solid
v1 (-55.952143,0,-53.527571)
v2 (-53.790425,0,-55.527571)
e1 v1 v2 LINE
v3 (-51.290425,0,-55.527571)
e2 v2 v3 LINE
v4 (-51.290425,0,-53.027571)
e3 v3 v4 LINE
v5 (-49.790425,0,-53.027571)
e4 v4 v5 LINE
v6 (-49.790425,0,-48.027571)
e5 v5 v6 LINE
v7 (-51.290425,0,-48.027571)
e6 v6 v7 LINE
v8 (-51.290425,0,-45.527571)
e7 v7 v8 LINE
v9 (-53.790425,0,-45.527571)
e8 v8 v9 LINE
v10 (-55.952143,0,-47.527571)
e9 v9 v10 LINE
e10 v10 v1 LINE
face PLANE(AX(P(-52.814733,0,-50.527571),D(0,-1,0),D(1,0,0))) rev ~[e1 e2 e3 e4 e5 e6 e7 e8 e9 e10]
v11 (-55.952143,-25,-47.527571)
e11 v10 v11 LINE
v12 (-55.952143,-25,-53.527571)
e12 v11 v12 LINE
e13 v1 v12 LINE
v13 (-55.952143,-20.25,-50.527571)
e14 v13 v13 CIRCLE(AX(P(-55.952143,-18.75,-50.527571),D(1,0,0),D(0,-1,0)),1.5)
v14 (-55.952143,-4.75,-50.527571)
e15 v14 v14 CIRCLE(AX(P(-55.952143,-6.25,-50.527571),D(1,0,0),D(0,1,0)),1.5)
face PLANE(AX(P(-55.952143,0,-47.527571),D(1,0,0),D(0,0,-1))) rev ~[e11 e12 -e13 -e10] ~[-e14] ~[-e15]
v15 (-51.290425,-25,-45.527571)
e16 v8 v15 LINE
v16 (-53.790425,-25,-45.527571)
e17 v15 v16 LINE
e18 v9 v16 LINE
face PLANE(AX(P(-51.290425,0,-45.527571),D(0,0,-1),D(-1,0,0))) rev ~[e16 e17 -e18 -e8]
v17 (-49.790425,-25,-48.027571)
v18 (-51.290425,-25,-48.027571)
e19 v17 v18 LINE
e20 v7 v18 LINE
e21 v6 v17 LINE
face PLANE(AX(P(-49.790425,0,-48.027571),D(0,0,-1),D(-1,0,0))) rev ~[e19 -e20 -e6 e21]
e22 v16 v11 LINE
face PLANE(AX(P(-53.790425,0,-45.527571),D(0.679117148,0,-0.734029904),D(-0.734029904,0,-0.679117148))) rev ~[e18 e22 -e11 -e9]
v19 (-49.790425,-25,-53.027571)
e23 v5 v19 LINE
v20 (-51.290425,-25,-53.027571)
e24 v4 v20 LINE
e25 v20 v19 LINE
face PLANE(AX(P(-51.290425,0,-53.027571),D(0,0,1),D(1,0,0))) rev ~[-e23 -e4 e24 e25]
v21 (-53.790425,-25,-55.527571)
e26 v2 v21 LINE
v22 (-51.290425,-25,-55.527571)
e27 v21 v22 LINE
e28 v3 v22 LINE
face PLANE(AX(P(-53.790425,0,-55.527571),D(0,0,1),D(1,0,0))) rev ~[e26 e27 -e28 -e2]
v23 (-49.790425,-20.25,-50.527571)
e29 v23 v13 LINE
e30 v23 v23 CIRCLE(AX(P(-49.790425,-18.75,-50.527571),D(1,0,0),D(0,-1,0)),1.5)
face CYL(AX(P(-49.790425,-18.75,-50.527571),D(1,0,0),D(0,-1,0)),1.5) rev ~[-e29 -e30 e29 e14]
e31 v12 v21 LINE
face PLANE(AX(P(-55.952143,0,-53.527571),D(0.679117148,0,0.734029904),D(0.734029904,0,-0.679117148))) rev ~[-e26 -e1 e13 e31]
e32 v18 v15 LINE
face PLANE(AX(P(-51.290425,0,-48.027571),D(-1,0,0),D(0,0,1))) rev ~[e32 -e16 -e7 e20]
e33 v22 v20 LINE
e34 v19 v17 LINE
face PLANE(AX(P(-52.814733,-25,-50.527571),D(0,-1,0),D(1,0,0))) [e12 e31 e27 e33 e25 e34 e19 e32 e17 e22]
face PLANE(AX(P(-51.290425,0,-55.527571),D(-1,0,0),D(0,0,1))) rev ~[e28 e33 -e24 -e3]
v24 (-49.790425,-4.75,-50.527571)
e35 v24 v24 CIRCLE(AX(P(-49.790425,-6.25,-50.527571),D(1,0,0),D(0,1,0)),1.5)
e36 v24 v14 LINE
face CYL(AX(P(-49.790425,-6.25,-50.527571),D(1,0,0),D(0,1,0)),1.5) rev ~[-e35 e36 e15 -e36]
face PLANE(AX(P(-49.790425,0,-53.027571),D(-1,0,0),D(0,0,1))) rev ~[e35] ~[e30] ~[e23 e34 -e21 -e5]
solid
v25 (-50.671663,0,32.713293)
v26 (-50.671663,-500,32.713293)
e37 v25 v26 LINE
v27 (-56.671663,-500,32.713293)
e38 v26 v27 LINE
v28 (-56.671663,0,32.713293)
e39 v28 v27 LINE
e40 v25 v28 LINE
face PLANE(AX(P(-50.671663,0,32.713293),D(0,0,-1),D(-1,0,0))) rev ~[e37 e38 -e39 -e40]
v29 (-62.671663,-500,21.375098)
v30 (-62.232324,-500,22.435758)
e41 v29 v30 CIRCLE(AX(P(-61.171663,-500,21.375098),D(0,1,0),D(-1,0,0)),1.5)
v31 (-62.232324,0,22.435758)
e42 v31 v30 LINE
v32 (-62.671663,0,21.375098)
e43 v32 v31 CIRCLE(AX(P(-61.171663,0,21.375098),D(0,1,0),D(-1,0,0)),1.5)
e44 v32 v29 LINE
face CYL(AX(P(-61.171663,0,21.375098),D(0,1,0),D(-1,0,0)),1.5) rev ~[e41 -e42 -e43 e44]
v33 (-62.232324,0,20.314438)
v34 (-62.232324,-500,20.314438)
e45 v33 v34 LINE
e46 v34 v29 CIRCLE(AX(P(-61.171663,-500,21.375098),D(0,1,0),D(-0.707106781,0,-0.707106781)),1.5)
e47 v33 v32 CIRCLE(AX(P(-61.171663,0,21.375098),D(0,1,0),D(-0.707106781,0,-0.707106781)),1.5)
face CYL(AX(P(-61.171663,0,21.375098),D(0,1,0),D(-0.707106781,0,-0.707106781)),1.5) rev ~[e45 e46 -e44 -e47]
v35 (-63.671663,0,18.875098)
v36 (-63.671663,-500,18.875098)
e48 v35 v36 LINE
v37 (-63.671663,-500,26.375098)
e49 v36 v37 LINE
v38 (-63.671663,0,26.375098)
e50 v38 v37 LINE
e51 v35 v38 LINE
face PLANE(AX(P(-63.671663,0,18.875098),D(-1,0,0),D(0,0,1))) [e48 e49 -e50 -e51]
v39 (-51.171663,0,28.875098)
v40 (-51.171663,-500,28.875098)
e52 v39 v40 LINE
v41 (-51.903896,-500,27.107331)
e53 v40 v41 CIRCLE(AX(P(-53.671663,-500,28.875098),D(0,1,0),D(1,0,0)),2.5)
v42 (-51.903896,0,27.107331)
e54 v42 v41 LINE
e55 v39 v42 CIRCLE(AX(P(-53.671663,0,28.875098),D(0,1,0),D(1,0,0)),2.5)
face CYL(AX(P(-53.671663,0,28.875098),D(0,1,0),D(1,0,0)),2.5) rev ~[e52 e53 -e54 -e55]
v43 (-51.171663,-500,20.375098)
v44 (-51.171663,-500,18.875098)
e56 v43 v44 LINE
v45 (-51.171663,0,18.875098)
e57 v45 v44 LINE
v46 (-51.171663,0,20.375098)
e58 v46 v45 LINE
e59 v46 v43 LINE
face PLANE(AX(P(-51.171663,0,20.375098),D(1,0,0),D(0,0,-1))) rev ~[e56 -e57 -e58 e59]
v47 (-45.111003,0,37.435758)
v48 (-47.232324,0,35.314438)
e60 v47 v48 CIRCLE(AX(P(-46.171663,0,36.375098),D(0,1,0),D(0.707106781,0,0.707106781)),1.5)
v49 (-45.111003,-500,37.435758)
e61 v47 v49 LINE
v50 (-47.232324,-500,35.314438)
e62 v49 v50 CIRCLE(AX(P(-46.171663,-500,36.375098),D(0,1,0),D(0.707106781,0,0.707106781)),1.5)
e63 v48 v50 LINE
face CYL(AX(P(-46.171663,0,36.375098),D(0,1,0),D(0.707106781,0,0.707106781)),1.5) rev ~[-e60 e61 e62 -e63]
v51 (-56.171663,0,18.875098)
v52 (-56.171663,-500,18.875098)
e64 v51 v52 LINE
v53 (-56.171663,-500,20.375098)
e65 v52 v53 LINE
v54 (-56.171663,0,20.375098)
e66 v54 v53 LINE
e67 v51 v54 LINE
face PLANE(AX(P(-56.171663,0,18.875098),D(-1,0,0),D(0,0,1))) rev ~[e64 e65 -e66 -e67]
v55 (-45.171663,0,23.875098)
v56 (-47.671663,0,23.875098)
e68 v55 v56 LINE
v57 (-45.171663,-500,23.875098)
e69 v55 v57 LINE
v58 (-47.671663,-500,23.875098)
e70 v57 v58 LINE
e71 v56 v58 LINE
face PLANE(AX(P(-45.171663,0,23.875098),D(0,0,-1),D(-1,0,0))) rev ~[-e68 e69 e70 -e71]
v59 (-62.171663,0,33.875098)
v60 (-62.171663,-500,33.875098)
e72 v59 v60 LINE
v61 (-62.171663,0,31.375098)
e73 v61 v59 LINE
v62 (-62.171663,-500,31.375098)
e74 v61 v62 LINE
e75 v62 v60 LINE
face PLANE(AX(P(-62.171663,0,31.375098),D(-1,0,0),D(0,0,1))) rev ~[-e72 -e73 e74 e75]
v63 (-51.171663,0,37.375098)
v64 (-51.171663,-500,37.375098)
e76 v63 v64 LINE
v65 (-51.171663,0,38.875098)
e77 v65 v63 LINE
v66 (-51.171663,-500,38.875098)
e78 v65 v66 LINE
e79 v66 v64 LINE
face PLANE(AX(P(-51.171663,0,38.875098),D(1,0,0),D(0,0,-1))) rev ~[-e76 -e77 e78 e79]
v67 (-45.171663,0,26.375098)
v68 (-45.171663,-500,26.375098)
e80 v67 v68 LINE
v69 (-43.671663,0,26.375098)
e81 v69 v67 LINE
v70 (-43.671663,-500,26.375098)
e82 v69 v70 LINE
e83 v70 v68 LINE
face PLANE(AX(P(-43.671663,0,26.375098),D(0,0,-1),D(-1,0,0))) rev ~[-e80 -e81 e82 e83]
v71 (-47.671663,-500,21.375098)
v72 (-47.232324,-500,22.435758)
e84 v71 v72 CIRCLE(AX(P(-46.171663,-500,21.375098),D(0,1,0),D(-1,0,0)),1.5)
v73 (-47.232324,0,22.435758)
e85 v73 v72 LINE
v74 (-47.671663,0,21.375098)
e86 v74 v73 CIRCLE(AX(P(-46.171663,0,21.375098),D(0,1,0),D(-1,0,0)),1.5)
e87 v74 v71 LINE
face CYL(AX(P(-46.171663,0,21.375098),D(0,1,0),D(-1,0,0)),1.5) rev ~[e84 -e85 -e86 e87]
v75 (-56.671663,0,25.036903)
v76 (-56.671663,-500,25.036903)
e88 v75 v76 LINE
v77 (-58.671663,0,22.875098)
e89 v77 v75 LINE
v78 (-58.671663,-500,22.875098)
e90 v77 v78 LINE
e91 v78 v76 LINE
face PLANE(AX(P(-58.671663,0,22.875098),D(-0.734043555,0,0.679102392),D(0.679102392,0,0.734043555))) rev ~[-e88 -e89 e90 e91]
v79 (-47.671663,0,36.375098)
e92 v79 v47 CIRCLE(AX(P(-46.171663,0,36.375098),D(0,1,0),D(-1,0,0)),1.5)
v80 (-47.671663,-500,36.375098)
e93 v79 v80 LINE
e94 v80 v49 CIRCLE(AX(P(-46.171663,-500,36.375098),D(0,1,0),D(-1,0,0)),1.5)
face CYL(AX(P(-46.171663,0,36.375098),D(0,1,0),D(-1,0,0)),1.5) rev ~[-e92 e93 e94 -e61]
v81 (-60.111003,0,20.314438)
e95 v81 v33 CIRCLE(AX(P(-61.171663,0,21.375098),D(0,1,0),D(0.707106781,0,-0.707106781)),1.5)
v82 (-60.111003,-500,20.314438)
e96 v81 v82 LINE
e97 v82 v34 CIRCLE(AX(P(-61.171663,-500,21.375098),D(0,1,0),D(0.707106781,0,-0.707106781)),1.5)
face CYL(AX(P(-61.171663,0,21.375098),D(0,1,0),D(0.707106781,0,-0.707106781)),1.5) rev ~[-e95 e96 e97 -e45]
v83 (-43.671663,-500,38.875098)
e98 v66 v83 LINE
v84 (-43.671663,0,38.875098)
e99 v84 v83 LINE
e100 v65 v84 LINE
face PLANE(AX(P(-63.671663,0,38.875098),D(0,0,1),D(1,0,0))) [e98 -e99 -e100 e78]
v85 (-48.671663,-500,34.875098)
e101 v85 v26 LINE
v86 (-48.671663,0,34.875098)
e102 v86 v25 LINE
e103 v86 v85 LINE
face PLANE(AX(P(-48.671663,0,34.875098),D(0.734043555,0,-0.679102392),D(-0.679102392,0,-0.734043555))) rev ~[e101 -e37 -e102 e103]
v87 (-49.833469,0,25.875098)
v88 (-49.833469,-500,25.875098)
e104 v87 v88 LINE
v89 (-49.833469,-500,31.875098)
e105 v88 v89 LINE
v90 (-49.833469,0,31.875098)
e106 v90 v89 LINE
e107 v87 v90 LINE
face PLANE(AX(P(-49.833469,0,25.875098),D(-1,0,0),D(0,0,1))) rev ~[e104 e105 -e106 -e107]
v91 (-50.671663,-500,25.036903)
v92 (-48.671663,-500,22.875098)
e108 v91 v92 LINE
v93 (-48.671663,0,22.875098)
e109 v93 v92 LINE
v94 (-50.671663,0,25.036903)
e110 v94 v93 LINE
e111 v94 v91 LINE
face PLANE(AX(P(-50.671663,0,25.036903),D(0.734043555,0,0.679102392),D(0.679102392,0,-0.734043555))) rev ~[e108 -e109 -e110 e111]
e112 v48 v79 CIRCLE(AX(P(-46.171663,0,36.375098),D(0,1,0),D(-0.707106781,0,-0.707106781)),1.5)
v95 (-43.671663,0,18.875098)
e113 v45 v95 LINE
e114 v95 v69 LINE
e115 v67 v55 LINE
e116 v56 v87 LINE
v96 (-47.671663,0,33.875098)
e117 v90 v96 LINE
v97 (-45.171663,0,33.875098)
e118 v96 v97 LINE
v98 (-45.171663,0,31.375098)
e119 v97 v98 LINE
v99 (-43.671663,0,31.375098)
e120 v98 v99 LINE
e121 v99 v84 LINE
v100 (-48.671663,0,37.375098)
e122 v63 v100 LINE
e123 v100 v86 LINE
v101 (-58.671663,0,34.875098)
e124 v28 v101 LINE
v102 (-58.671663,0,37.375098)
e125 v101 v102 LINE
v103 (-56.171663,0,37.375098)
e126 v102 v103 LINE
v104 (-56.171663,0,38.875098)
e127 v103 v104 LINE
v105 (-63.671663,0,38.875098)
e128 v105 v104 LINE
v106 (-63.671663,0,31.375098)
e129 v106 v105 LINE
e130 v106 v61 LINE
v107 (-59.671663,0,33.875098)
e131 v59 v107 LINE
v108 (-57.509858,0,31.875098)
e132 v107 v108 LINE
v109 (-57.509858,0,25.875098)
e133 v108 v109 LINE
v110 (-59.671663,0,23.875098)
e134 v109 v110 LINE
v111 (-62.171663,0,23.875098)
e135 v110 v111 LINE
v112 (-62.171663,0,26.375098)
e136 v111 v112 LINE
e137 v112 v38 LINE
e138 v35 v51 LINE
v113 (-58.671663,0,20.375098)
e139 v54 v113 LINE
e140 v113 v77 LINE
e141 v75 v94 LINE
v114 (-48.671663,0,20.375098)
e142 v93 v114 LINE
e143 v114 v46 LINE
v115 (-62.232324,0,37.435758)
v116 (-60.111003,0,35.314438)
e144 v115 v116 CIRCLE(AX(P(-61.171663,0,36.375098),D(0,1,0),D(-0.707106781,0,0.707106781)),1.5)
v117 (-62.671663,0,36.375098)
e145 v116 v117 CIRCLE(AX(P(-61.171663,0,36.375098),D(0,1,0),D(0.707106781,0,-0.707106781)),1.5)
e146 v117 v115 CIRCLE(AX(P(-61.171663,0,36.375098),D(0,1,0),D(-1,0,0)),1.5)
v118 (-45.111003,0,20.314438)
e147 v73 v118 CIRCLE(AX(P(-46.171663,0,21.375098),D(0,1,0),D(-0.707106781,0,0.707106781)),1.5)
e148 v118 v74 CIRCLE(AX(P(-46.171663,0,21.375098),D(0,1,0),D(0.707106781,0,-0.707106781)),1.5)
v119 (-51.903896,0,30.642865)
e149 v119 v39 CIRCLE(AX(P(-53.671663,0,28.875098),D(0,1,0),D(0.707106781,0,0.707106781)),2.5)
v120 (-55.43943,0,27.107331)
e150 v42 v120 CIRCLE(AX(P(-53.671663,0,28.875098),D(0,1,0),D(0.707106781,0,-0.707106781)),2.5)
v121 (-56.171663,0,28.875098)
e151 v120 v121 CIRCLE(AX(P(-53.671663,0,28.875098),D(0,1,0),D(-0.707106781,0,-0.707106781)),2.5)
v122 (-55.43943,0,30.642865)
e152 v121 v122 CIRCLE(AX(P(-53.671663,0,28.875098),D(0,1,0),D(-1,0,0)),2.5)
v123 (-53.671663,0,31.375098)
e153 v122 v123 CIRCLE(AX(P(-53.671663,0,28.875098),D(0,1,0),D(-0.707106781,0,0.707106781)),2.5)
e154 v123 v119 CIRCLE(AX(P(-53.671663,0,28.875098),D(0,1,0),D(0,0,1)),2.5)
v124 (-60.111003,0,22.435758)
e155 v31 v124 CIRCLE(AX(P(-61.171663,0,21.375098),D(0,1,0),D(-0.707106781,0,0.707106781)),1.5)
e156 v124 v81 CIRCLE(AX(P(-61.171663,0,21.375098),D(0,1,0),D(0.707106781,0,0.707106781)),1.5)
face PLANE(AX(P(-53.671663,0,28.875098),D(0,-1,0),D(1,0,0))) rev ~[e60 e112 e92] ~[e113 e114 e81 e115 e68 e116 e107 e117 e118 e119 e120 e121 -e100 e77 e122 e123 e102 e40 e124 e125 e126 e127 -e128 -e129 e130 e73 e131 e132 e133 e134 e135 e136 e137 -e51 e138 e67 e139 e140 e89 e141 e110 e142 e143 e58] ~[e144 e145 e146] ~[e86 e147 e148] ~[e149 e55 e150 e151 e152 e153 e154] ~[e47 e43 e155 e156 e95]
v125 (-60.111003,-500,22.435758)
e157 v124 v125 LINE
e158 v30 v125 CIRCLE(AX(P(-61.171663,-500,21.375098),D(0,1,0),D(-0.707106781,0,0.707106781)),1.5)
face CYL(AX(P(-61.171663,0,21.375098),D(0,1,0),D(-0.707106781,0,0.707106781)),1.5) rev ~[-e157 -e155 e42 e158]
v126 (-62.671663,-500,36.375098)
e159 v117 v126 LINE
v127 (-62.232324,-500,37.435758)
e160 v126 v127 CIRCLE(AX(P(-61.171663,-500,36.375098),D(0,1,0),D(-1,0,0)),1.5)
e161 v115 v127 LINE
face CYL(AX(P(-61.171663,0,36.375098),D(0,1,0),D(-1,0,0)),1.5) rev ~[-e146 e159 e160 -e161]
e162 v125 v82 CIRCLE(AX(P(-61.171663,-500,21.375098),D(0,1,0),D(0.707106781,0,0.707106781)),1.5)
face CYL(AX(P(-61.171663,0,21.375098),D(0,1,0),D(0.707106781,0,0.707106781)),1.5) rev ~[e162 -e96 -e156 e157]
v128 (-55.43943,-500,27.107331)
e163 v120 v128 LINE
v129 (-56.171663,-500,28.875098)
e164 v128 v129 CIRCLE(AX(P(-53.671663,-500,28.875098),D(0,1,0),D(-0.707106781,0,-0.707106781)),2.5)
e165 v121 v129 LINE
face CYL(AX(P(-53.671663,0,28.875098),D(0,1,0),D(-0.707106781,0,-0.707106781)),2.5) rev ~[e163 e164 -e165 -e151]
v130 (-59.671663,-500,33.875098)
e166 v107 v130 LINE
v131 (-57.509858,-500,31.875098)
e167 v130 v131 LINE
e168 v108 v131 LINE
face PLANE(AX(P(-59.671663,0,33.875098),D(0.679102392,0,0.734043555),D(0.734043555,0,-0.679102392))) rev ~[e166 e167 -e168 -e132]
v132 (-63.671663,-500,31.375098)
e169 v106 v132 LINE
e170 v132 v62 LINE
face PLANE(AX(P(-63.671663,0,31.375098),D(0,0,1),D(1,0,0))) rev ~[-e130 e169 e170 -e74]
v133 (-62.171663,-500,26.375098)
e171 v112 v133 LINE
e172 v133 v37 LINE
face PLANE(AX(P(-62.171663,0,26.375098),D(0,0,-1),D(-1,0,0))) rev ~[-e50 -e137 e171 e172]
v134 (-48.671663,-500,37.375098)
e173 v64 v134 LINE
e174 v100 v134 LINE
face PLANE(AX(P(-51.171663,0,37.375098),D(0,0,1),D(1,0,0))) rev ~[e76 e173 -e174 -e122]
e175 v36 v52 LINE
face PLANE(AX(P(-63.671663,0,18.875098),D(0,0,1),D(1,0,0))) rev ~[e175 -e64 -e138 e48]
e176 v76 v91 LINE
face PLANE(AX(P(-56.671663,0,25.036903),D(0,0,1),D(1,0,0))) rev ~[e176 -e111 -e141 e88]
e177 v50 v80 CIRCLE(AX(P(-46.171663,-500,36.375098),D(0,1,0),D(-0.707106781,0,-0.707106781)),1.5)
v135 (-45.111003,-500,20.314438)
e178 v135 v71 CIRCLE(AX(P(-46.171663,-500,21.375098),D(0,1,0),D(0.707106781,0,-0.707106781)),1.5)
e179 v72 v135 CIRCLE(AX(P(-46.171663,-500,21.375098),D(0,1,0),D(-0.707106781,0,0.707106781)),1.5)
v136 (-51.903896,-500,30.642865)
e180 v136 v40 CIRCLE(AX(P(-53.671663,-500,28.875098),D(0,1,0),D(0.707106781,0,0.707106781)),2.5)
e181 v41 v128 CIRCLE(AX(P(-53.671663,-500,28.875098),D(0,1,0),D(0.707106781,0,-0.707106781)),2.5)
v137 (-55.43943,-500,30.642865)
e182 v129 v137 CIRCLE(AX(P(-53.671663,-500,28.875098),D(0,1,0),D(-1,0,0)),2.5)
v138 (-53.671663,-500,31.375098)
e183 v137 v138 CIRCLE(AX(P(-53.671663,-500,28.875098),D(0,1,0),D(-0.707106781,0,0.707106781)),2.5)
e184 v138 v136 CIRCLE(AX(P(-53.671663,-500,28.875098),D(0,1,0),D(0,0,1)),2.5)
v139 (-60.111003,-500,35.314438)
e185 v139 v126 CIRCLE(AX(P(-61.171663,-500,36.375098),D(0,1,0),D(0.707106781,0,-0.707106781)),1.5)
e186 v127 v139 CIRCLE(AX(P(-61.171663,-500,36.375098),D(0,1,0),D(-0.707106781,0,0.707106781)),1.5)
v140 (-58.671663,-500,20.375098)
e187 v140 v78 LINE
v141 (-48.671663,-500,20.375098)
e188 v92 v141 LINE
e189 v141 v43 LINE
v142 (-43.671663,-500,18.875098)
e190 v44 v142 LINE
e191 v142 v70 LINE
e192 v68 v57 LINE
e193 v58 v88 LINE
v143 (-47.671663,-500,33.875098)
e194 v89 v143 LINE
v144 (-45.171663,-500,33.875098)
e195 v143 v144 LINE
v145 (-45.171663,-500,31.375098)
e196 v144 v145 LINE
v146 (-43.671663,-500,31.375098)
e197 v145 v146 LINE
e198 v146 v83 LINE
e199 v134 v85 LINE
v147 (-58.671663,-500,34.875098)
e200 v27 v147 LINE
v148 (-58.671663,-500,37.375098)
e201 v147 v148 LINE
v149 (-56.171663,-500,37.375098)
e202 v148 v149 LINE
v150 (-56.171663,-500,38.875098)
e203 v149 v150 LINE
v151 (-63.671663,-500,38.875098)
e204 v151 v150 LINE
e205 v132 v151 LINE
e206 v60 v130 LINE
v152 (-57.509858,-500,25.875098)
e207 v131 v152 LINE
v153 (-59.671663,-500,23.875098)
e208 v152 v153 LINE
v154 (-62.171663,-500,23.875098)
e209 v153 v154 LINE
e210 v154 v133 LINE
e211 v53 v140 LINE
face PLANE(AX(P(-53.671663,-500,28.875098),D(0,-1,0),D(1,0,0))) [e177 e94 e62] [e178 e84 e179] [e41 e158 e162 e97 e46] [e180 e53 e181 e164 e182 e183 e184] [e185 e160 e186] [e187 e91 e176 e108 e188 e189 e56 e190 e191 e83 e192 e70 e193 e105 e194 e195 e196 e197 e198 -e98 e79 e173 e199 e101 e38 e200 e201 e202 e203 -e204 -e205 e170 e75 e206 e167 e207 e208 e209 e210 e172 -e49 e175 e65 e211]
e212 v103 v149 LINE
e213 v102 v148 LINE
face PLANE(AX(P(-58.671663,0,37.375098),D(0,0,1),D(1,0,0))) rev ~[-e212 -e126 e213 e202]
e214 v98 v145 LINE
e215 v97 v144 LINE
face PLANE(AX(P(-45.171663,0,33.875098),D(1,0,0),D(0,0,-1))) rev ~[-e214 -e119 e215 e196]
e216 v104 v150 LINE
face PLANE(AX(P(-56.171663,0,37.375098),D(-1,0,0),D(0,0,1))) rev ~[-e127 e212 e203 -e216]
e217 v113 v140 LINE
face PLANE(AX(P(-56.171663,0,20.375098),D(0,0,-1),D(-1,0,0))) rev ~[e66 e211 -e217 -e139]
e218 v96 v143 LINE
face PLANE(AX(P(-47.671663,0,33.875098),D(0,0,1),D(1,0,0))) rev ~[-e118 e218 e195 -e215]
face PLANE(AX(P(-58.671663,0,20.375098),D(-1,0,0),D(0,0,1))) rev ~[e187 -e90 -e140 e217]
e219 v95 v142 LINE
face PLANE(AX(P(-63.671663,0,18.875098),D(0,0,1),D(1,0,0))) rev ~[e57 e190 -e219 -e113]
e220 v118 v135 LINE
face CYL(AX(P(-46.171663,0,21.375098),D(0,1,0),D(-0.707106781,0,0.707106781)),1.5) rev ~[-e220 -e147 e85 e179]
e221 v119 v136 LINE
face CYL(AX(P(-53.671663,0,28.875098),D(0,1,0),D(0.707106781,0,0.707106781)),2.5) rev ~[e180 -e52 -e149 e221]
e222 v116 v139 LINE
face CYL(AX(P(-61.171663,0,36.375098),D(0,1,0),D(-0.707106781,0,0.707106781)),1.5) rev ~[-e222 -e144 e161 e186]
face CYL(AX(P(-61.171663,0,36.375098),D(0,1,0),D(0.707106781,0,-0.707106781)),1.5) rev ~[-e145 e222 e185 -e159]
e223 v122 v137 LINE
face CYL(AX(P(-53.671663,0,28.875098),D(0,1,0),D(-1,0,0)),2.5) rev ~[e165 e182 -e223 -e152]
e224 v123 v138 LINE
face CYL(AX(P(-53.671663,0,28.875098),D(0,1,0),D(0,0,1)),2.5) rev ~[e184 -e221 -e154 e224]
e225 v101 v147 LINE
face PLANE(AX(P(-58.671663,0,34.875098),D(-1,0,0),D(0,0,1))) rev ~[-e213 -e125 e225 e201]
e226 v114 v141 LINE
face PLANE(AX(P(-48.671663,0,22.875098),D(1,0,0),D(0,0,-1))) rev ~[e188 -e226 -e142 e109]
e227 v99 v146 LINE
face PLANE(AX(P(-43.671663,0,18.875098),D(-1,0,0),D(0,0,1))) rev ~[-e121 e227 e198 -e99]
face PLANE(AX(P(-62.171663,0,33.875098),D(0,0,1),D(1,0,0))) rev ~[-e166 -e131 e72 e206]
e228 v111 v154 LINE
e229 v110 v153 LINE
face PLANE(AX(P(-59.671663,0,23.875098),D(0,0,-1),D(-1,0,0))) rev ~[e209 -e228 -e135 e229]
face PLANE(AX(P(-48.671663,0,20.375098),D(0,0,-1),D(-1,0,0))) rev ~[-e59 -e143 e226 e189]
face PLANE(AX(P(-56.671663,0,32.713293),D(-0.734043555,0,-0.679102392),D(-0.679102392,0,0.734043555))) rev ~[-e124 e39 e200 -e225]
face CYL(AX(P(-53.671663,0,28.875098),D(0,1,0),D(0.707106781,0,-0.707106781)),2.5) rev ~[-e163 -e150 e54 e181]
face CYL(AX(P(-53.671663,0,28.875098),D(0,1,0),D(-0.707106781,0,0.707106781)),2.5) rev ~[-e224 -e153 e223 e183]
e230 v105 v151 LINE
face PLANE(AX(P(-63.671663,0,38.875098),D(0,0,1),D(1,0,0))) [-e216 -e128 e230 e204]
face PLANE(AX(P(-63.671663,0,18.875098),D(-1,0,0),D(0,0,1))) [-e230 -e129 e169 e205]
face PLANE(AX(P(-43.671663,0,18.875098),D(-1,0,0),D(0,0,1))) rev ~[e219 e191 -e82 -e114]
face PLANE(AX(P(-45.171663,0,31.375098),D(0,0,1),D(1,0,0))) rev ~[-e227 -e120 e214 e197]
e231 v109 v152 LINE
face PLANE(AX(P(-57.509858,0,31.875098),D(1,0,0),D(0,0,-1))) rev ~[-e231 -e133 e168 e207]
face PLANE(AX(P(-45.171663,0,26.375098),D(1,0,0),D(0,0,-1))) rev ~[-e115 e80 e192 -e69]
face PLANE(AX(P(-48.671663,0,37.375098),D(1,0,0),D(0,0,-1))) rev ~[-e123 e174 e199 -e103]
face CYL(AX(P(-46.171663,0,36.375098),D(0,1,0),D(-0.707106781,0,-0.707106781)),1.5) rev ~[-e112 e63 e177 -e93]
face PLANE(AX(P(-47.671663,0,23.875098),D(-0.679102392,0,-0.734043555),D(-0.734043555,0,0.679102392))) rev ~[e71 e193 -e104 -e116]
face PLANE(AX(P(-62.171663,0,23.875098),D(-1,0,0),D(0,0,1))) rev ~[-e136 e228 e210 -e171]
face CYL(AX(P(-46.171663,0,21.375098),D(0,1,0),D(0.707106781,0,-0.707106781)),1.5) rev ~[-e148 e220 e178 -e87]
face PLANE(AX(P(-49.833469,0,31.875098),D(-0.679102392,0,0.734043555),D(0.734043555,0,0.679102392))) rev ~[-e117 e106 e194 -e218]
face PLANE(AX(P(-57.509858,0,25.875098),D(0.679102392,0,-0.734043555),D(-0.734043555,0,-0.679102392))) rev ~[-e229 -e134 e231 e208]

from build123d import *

# Parameters (mm, degrees)
F0_W     = 20
F0_H     = 20
F1_DEPTH = 500
F3_DEPTH = 500
F5_DEPTH = 25
F7_DEPTH = 25


with BuildPart() as f1:
    # F0 (on Front) → F1 (new body)
    with BuildSketch(Plane.XZ):
        with Locations((-53.6716634035, 28.8750978559)):
            Rectangle(F0_W, F0_H)
    extrude(amount=F1_DEPTH)

    # F2 (on face) → F3 (cut)
    with BuildSketch(Plane(origin=(0, 0, 0), x_dir=(-1, 0, 0), z_dir=(0, 1, 0))):
        Polygon((49.8334686458, 25.8750978559), (49.8334686458, 28.8750978559), (49.8334686458, 31.8750978559), (47.6716634035, 33.8750978559), (45.1716634035, 33.8750978559), (45.1716634035, 31.3750978559), (43.6716634035, 31.3750978559), (43.6716634035, 26.3750978559), (45.1716634035, 26.3750978559), (45.1716634035, 23.8750978559), (47.6716634035, 23.8750978559), align=None)
        Polygon((56.1716634035, 20.3750978559), (58.6716634035, 20.3750978559), (58.6716634035, 22.8750978559), (56.6716634035, 25.0369030982), (53.6716634035, 25.0369030982), (50.6716634035, 25.0369030982), (48.6716634035, 22.8750978559), (48.6716634035, 20.3750978559), (51.1716634035, 20.3750978559), (51.1716634035, 18.8750978559), (56.1716634035, 18.8750978559), align=None)
        Polygon((57.5098581612, 31.8750978559), (57.5098581612, 28.8750978559), (57.5098581612, 25.8750978559), (59.6716634035, 23.8750978559), (62.1716634035, 23.8750978559), (62.1716634035, 26.3750978559), (63.6716634035, 26.3750978559), (63.6716634035, 28.8750978559), (63.6716634035, 31.3750978559), (62.1716634035, 31.3750978559), (62.1716634035, 33.8750978559), (59.6716634035, 33.8750978559), align=None)
        Polygon((50.6716634035, 32.7132926136), (53.6716634035, 32.7132926136), (56.6716634035, 32.7132926136), (58.6716634035, 34.8750978559), (58.6716634035, 37.3750978559), (56.1716634035, 37.3750978559), (56.1716634035, 38.8750978559), (51.1716634035, 38.8750978559), (51.1716634035, 37.3750978559), (48.6716634035, 37.3750978559), (48.6716634035, 34.8750978559), align=None)
        with BuildLine():
            ThreePointArc((62.2323235753, 37.4357580277), (60.1110032317, 37.4357580277), (60.1110032317, 35.3144376841))
            Line((60.1110032317, 35.3144376841), (62.2323235753, 37.4357580277))
        make_face()
        with BuildLine():
            Line((62.2323235753, 37.4357580277), (60.1110032317, 35.3144376841))
            ThreePointArc((60.1110032317, 35.3144376841), (61.7456885521, 34.9892785572), (62.6716634035, 36.3750978559))
            ThreePointArc((62.6716634035, 36.3750978559), (62.5574827023, 36.9491230045), (62.2323235753, 37.4357580277))
        make_face()
        with BuildLine():
            Line((51.1716634035, 28.8750978559), (53.6716634035, 28.8750978559))
            Line((53.6716634035, 28.8750978559), (51.9038964505, 30.6428648089))
            ThreePointArc((51.9038964505, 30.6428648089), (51.3619645722, 29.8318064368), (51.1716634035, 28.8750978559))
        make_face()
        with BuildLine():
            Line((51.9038964505, 27.107330903), (53.6716634035, 28.8750978559))
            Line((53.6716634035, 28.8750978559), (51.1716634035, 28.8750978559))
            ThreePointArc((51.1716634035, 28.8750978559), (51.3619645722, 27.918389275), (51.9038964505, 27.107330903))
        make_face()
        with BuildLine():
            Line((55.4394303565, 27.107330903), (53.6716634035, 28.8750978559))
            Line((53.6716634035, 28.8750978559), (51.9038964505, 27.107330903))
            ThreePointArc((51.9038964505, 27.107330903), (53.6716634035, 26.3750978559), (55.4394303565, 27.107330903))
        make_face()
        with BuildLine():
            Line((56.1716634035, 28.8750978559), (53.6716634035, 28.8750978559))
            Line((53.6716634035, 28.8750978559), (55.4394303565, 27.107330903))
            ThreePointArc((55.4394303565, 27.107330903), (55.9813622348, 27.918389275), (56.1716634035, 28.8750978559))
        make_face()
        with BuildLine():
            Line((55.4394303565, 30.6428648089), (53.6716634035, 28.8750978559))
            Line((53.6716634035, 28.8750978559), (56.1716634035, 28.8750978559))
            ThreePointArc((56.1716634035, 28.8750978559), (55.9813622348, 29.8318064368), (55.4394303565, 30.6428648089))
        make_face()
        with BuildLine():
            ThreePointArc((55.4394303565, 30.6428648089), (54.6283719844, 31.1847966872), (53.6716634035, 31.3750978559))
            Line((53.6716634035, 31.3750978559), (53.6716634035, 28.8750978559))
            Line((53.6716634035, 28.8750978559), (55.4394303565, 30.6428648089))
        make_face()
        with BuildLine():
            Line((53.6716634035, 28.8750978559), (53.6716634035, 31.3750978559))
            ThreePointArc((53.6716634035, 31.3750978559), (52.7149548226, 31.1847966872), (51.9038964505, 30.6428648089))
            Line((51.9038964505, 30.6428648089), (53.6716634035, 28.8750978559))
        make_face()
        with BuildLine():
            Line((45.1110032317, 20.3144376841), (47.2323235753, 22.4357580277))
            ThreePointArc((47.2323235753, 22.4357580277), (45.1110032317, 22.4357580277), (45.1110032317, 20.3144376841))
        make_face()
        with BuildLine():
            ThreePointArc((47.6716634035, 21.3750978559), (47.5574827023, 21.9491230045), (47.2323235753, 22.4357580277))
            Line((47.2323235753, 22.4357580277), (45.1110032317, 20.3144376841))
            ThreePointArc((45.1110032317, 20.3144376841), (46.7456885521, 19.9892785572), (47.6716634035, 21.3750978559))
        make_face()
        with BuildLine():
            Line((61.1716634035, 21.3750978559), (60.1110032317, 22.4357580277))
            ThreePointArc((60.1110032317, 22.4357580277), (59.6716634035, 21.3750978559), (60.1110032317, 20.3144376841))
            Line((60.1110032317, 20.3144376841), (61.1716634035, 21.3750978559))
        make_face()
        with BuildLine():
            Line((62.2323235753, 20.3144376841), (61.1716634035, 21.3750978559))
            Line((61.1716634035, 21.3750978559), (60.1110032317, 20.3144376841))
            ThreePointArc((60.1110032317, 20.3144376841), (61.1716634035, 19.8750978559), (62.2323235753, 20.3144376841))
        make_face()
        with BuildLine():
            Line((62.2323235753, 22.4357580277), (61.1716634035, 21.3750978559))
            Line((61.1716634035, 21.3750978559), (62.2323235753, 20.3144376841))
            ThreePointArc((62.2323235753, 20.3144376841), (62.5574827023, 20.8010727074), (62.6716634035, 21.3750978559))
            ThreePointArc((62.6716634035, 21.3750978559), (62.5574827023, 21.9491230045), (62.2323235753, 22.4357580277))
        make_face()
        with BuildLine():
            ThreePointArc((62.2323235753, 22.4357580277), (61.1716634035, 22.8750978559), (60.1110032317, 22.4357580277))
            Line((60.1110032317, 22.4357580277), (61.1716634035, 21.3750978559))
            Line((61.1716634035, 21.3750978559), (62.2323235753, 22.4357580277))
        make_face()
        with BuildLine():
            ThreePointArc((45.1110032317, 37.4357580277), (45.1110032317, 35.3144376841), (47.2323235753, 35.3144376841))
            Line((47.2323235753, 35.3144376841), (45.1110032317, 37.4357580277))
        make_face()
        with BuildLine():
            Line((45.1110032317, 37.4357580277), (47.2323235753, 35.3144376841))
            ThreePointArc((47.2323235753, 35.3144376841), (47.5574827023, 35.8010727074), (47.6716634035, 36.3750978559))
            ThreePointArc((47.6716634035, 36.3750978559), (46.7456885521, 37.7609171547), (45.1110032317, 37.4357580277))
        make_face()
    extrude(amount=-F3_DEPTH, mode=Mode.SUBTRACT)


with BuildPart() as f5:
    # F4 (on Front) → F5 (new body)
    with BuildSketch(Plane.XZ):
        Polygon((-51.2904248573, -53.027571466), (-49.7904248573, -53.027571466), (-49.7904248573, -50.527571466), (-49.7904248573, -48.027571466), (-51.2904248573, -48.027571466), (-51.2904248573, -45.527571466), (-53.7904248573, -45.527571466), (-55.9521429241, -47.527571466), (-55.9521429241, -50.527571466), (-55.9521429241, -53.527571466), (-53.7904248573, -55.527571466), (-51.2904248573, -55.527571466), align=None)
    extrude(amount=F5_DEPTH)

    # F6 (on face) → F7 (cut)
    with BuildSketch(Plane.YZ.offset(-49.7904248573)):
        with BuildLine():
            Line((-20.25, -50.527571466), (-18.75, -50.527571466))
            Line((-18.75, -50.527571466), (-17.25, -50.527571466))
            ThreePointArc((-17.25, -50.527571466), (-18.75, -49.027571466), (-20.25, -50.527571466))
        make_face()
        with BuildLine():
            Line((-17.25, -50.527571466), (-18.75, -50.527571466))
            Line((-18.75, -50.527571466), (-20.25, -50.527571466))
            ThreePointArc((-20.25, -50.527571466), (-18.75, -52.027571466), (-17.25, -50.527571466))
        make_face()
        with BuildLine():
            Line((-6.25, -50.527571466), (-7.75, -50.527571466))
            ThreePointArc((-7.75, -50.527571466), (-6.25, -52.027571466), (-4.75, -50.527571466))
            Line((-4.75, -50.527571466), (-6.25, -50.527571466))
        make_face()
        with BuildLine():
            ThreePointArc((-4.75, -50.527571466), (-6.25, -49.027571466), (-7.75, -50.527571466))
            Line((-7.75, -50.527571466), (-6.25, -50.527571466))
            Line((-6.25, -50.527571466), (-4.75, -50.527571466))
        make_face()
    extrude(amount=-F7_DEPTH, mode=Mode.SUBTRACT)


solid = Compound([f1.part, f5.part])
